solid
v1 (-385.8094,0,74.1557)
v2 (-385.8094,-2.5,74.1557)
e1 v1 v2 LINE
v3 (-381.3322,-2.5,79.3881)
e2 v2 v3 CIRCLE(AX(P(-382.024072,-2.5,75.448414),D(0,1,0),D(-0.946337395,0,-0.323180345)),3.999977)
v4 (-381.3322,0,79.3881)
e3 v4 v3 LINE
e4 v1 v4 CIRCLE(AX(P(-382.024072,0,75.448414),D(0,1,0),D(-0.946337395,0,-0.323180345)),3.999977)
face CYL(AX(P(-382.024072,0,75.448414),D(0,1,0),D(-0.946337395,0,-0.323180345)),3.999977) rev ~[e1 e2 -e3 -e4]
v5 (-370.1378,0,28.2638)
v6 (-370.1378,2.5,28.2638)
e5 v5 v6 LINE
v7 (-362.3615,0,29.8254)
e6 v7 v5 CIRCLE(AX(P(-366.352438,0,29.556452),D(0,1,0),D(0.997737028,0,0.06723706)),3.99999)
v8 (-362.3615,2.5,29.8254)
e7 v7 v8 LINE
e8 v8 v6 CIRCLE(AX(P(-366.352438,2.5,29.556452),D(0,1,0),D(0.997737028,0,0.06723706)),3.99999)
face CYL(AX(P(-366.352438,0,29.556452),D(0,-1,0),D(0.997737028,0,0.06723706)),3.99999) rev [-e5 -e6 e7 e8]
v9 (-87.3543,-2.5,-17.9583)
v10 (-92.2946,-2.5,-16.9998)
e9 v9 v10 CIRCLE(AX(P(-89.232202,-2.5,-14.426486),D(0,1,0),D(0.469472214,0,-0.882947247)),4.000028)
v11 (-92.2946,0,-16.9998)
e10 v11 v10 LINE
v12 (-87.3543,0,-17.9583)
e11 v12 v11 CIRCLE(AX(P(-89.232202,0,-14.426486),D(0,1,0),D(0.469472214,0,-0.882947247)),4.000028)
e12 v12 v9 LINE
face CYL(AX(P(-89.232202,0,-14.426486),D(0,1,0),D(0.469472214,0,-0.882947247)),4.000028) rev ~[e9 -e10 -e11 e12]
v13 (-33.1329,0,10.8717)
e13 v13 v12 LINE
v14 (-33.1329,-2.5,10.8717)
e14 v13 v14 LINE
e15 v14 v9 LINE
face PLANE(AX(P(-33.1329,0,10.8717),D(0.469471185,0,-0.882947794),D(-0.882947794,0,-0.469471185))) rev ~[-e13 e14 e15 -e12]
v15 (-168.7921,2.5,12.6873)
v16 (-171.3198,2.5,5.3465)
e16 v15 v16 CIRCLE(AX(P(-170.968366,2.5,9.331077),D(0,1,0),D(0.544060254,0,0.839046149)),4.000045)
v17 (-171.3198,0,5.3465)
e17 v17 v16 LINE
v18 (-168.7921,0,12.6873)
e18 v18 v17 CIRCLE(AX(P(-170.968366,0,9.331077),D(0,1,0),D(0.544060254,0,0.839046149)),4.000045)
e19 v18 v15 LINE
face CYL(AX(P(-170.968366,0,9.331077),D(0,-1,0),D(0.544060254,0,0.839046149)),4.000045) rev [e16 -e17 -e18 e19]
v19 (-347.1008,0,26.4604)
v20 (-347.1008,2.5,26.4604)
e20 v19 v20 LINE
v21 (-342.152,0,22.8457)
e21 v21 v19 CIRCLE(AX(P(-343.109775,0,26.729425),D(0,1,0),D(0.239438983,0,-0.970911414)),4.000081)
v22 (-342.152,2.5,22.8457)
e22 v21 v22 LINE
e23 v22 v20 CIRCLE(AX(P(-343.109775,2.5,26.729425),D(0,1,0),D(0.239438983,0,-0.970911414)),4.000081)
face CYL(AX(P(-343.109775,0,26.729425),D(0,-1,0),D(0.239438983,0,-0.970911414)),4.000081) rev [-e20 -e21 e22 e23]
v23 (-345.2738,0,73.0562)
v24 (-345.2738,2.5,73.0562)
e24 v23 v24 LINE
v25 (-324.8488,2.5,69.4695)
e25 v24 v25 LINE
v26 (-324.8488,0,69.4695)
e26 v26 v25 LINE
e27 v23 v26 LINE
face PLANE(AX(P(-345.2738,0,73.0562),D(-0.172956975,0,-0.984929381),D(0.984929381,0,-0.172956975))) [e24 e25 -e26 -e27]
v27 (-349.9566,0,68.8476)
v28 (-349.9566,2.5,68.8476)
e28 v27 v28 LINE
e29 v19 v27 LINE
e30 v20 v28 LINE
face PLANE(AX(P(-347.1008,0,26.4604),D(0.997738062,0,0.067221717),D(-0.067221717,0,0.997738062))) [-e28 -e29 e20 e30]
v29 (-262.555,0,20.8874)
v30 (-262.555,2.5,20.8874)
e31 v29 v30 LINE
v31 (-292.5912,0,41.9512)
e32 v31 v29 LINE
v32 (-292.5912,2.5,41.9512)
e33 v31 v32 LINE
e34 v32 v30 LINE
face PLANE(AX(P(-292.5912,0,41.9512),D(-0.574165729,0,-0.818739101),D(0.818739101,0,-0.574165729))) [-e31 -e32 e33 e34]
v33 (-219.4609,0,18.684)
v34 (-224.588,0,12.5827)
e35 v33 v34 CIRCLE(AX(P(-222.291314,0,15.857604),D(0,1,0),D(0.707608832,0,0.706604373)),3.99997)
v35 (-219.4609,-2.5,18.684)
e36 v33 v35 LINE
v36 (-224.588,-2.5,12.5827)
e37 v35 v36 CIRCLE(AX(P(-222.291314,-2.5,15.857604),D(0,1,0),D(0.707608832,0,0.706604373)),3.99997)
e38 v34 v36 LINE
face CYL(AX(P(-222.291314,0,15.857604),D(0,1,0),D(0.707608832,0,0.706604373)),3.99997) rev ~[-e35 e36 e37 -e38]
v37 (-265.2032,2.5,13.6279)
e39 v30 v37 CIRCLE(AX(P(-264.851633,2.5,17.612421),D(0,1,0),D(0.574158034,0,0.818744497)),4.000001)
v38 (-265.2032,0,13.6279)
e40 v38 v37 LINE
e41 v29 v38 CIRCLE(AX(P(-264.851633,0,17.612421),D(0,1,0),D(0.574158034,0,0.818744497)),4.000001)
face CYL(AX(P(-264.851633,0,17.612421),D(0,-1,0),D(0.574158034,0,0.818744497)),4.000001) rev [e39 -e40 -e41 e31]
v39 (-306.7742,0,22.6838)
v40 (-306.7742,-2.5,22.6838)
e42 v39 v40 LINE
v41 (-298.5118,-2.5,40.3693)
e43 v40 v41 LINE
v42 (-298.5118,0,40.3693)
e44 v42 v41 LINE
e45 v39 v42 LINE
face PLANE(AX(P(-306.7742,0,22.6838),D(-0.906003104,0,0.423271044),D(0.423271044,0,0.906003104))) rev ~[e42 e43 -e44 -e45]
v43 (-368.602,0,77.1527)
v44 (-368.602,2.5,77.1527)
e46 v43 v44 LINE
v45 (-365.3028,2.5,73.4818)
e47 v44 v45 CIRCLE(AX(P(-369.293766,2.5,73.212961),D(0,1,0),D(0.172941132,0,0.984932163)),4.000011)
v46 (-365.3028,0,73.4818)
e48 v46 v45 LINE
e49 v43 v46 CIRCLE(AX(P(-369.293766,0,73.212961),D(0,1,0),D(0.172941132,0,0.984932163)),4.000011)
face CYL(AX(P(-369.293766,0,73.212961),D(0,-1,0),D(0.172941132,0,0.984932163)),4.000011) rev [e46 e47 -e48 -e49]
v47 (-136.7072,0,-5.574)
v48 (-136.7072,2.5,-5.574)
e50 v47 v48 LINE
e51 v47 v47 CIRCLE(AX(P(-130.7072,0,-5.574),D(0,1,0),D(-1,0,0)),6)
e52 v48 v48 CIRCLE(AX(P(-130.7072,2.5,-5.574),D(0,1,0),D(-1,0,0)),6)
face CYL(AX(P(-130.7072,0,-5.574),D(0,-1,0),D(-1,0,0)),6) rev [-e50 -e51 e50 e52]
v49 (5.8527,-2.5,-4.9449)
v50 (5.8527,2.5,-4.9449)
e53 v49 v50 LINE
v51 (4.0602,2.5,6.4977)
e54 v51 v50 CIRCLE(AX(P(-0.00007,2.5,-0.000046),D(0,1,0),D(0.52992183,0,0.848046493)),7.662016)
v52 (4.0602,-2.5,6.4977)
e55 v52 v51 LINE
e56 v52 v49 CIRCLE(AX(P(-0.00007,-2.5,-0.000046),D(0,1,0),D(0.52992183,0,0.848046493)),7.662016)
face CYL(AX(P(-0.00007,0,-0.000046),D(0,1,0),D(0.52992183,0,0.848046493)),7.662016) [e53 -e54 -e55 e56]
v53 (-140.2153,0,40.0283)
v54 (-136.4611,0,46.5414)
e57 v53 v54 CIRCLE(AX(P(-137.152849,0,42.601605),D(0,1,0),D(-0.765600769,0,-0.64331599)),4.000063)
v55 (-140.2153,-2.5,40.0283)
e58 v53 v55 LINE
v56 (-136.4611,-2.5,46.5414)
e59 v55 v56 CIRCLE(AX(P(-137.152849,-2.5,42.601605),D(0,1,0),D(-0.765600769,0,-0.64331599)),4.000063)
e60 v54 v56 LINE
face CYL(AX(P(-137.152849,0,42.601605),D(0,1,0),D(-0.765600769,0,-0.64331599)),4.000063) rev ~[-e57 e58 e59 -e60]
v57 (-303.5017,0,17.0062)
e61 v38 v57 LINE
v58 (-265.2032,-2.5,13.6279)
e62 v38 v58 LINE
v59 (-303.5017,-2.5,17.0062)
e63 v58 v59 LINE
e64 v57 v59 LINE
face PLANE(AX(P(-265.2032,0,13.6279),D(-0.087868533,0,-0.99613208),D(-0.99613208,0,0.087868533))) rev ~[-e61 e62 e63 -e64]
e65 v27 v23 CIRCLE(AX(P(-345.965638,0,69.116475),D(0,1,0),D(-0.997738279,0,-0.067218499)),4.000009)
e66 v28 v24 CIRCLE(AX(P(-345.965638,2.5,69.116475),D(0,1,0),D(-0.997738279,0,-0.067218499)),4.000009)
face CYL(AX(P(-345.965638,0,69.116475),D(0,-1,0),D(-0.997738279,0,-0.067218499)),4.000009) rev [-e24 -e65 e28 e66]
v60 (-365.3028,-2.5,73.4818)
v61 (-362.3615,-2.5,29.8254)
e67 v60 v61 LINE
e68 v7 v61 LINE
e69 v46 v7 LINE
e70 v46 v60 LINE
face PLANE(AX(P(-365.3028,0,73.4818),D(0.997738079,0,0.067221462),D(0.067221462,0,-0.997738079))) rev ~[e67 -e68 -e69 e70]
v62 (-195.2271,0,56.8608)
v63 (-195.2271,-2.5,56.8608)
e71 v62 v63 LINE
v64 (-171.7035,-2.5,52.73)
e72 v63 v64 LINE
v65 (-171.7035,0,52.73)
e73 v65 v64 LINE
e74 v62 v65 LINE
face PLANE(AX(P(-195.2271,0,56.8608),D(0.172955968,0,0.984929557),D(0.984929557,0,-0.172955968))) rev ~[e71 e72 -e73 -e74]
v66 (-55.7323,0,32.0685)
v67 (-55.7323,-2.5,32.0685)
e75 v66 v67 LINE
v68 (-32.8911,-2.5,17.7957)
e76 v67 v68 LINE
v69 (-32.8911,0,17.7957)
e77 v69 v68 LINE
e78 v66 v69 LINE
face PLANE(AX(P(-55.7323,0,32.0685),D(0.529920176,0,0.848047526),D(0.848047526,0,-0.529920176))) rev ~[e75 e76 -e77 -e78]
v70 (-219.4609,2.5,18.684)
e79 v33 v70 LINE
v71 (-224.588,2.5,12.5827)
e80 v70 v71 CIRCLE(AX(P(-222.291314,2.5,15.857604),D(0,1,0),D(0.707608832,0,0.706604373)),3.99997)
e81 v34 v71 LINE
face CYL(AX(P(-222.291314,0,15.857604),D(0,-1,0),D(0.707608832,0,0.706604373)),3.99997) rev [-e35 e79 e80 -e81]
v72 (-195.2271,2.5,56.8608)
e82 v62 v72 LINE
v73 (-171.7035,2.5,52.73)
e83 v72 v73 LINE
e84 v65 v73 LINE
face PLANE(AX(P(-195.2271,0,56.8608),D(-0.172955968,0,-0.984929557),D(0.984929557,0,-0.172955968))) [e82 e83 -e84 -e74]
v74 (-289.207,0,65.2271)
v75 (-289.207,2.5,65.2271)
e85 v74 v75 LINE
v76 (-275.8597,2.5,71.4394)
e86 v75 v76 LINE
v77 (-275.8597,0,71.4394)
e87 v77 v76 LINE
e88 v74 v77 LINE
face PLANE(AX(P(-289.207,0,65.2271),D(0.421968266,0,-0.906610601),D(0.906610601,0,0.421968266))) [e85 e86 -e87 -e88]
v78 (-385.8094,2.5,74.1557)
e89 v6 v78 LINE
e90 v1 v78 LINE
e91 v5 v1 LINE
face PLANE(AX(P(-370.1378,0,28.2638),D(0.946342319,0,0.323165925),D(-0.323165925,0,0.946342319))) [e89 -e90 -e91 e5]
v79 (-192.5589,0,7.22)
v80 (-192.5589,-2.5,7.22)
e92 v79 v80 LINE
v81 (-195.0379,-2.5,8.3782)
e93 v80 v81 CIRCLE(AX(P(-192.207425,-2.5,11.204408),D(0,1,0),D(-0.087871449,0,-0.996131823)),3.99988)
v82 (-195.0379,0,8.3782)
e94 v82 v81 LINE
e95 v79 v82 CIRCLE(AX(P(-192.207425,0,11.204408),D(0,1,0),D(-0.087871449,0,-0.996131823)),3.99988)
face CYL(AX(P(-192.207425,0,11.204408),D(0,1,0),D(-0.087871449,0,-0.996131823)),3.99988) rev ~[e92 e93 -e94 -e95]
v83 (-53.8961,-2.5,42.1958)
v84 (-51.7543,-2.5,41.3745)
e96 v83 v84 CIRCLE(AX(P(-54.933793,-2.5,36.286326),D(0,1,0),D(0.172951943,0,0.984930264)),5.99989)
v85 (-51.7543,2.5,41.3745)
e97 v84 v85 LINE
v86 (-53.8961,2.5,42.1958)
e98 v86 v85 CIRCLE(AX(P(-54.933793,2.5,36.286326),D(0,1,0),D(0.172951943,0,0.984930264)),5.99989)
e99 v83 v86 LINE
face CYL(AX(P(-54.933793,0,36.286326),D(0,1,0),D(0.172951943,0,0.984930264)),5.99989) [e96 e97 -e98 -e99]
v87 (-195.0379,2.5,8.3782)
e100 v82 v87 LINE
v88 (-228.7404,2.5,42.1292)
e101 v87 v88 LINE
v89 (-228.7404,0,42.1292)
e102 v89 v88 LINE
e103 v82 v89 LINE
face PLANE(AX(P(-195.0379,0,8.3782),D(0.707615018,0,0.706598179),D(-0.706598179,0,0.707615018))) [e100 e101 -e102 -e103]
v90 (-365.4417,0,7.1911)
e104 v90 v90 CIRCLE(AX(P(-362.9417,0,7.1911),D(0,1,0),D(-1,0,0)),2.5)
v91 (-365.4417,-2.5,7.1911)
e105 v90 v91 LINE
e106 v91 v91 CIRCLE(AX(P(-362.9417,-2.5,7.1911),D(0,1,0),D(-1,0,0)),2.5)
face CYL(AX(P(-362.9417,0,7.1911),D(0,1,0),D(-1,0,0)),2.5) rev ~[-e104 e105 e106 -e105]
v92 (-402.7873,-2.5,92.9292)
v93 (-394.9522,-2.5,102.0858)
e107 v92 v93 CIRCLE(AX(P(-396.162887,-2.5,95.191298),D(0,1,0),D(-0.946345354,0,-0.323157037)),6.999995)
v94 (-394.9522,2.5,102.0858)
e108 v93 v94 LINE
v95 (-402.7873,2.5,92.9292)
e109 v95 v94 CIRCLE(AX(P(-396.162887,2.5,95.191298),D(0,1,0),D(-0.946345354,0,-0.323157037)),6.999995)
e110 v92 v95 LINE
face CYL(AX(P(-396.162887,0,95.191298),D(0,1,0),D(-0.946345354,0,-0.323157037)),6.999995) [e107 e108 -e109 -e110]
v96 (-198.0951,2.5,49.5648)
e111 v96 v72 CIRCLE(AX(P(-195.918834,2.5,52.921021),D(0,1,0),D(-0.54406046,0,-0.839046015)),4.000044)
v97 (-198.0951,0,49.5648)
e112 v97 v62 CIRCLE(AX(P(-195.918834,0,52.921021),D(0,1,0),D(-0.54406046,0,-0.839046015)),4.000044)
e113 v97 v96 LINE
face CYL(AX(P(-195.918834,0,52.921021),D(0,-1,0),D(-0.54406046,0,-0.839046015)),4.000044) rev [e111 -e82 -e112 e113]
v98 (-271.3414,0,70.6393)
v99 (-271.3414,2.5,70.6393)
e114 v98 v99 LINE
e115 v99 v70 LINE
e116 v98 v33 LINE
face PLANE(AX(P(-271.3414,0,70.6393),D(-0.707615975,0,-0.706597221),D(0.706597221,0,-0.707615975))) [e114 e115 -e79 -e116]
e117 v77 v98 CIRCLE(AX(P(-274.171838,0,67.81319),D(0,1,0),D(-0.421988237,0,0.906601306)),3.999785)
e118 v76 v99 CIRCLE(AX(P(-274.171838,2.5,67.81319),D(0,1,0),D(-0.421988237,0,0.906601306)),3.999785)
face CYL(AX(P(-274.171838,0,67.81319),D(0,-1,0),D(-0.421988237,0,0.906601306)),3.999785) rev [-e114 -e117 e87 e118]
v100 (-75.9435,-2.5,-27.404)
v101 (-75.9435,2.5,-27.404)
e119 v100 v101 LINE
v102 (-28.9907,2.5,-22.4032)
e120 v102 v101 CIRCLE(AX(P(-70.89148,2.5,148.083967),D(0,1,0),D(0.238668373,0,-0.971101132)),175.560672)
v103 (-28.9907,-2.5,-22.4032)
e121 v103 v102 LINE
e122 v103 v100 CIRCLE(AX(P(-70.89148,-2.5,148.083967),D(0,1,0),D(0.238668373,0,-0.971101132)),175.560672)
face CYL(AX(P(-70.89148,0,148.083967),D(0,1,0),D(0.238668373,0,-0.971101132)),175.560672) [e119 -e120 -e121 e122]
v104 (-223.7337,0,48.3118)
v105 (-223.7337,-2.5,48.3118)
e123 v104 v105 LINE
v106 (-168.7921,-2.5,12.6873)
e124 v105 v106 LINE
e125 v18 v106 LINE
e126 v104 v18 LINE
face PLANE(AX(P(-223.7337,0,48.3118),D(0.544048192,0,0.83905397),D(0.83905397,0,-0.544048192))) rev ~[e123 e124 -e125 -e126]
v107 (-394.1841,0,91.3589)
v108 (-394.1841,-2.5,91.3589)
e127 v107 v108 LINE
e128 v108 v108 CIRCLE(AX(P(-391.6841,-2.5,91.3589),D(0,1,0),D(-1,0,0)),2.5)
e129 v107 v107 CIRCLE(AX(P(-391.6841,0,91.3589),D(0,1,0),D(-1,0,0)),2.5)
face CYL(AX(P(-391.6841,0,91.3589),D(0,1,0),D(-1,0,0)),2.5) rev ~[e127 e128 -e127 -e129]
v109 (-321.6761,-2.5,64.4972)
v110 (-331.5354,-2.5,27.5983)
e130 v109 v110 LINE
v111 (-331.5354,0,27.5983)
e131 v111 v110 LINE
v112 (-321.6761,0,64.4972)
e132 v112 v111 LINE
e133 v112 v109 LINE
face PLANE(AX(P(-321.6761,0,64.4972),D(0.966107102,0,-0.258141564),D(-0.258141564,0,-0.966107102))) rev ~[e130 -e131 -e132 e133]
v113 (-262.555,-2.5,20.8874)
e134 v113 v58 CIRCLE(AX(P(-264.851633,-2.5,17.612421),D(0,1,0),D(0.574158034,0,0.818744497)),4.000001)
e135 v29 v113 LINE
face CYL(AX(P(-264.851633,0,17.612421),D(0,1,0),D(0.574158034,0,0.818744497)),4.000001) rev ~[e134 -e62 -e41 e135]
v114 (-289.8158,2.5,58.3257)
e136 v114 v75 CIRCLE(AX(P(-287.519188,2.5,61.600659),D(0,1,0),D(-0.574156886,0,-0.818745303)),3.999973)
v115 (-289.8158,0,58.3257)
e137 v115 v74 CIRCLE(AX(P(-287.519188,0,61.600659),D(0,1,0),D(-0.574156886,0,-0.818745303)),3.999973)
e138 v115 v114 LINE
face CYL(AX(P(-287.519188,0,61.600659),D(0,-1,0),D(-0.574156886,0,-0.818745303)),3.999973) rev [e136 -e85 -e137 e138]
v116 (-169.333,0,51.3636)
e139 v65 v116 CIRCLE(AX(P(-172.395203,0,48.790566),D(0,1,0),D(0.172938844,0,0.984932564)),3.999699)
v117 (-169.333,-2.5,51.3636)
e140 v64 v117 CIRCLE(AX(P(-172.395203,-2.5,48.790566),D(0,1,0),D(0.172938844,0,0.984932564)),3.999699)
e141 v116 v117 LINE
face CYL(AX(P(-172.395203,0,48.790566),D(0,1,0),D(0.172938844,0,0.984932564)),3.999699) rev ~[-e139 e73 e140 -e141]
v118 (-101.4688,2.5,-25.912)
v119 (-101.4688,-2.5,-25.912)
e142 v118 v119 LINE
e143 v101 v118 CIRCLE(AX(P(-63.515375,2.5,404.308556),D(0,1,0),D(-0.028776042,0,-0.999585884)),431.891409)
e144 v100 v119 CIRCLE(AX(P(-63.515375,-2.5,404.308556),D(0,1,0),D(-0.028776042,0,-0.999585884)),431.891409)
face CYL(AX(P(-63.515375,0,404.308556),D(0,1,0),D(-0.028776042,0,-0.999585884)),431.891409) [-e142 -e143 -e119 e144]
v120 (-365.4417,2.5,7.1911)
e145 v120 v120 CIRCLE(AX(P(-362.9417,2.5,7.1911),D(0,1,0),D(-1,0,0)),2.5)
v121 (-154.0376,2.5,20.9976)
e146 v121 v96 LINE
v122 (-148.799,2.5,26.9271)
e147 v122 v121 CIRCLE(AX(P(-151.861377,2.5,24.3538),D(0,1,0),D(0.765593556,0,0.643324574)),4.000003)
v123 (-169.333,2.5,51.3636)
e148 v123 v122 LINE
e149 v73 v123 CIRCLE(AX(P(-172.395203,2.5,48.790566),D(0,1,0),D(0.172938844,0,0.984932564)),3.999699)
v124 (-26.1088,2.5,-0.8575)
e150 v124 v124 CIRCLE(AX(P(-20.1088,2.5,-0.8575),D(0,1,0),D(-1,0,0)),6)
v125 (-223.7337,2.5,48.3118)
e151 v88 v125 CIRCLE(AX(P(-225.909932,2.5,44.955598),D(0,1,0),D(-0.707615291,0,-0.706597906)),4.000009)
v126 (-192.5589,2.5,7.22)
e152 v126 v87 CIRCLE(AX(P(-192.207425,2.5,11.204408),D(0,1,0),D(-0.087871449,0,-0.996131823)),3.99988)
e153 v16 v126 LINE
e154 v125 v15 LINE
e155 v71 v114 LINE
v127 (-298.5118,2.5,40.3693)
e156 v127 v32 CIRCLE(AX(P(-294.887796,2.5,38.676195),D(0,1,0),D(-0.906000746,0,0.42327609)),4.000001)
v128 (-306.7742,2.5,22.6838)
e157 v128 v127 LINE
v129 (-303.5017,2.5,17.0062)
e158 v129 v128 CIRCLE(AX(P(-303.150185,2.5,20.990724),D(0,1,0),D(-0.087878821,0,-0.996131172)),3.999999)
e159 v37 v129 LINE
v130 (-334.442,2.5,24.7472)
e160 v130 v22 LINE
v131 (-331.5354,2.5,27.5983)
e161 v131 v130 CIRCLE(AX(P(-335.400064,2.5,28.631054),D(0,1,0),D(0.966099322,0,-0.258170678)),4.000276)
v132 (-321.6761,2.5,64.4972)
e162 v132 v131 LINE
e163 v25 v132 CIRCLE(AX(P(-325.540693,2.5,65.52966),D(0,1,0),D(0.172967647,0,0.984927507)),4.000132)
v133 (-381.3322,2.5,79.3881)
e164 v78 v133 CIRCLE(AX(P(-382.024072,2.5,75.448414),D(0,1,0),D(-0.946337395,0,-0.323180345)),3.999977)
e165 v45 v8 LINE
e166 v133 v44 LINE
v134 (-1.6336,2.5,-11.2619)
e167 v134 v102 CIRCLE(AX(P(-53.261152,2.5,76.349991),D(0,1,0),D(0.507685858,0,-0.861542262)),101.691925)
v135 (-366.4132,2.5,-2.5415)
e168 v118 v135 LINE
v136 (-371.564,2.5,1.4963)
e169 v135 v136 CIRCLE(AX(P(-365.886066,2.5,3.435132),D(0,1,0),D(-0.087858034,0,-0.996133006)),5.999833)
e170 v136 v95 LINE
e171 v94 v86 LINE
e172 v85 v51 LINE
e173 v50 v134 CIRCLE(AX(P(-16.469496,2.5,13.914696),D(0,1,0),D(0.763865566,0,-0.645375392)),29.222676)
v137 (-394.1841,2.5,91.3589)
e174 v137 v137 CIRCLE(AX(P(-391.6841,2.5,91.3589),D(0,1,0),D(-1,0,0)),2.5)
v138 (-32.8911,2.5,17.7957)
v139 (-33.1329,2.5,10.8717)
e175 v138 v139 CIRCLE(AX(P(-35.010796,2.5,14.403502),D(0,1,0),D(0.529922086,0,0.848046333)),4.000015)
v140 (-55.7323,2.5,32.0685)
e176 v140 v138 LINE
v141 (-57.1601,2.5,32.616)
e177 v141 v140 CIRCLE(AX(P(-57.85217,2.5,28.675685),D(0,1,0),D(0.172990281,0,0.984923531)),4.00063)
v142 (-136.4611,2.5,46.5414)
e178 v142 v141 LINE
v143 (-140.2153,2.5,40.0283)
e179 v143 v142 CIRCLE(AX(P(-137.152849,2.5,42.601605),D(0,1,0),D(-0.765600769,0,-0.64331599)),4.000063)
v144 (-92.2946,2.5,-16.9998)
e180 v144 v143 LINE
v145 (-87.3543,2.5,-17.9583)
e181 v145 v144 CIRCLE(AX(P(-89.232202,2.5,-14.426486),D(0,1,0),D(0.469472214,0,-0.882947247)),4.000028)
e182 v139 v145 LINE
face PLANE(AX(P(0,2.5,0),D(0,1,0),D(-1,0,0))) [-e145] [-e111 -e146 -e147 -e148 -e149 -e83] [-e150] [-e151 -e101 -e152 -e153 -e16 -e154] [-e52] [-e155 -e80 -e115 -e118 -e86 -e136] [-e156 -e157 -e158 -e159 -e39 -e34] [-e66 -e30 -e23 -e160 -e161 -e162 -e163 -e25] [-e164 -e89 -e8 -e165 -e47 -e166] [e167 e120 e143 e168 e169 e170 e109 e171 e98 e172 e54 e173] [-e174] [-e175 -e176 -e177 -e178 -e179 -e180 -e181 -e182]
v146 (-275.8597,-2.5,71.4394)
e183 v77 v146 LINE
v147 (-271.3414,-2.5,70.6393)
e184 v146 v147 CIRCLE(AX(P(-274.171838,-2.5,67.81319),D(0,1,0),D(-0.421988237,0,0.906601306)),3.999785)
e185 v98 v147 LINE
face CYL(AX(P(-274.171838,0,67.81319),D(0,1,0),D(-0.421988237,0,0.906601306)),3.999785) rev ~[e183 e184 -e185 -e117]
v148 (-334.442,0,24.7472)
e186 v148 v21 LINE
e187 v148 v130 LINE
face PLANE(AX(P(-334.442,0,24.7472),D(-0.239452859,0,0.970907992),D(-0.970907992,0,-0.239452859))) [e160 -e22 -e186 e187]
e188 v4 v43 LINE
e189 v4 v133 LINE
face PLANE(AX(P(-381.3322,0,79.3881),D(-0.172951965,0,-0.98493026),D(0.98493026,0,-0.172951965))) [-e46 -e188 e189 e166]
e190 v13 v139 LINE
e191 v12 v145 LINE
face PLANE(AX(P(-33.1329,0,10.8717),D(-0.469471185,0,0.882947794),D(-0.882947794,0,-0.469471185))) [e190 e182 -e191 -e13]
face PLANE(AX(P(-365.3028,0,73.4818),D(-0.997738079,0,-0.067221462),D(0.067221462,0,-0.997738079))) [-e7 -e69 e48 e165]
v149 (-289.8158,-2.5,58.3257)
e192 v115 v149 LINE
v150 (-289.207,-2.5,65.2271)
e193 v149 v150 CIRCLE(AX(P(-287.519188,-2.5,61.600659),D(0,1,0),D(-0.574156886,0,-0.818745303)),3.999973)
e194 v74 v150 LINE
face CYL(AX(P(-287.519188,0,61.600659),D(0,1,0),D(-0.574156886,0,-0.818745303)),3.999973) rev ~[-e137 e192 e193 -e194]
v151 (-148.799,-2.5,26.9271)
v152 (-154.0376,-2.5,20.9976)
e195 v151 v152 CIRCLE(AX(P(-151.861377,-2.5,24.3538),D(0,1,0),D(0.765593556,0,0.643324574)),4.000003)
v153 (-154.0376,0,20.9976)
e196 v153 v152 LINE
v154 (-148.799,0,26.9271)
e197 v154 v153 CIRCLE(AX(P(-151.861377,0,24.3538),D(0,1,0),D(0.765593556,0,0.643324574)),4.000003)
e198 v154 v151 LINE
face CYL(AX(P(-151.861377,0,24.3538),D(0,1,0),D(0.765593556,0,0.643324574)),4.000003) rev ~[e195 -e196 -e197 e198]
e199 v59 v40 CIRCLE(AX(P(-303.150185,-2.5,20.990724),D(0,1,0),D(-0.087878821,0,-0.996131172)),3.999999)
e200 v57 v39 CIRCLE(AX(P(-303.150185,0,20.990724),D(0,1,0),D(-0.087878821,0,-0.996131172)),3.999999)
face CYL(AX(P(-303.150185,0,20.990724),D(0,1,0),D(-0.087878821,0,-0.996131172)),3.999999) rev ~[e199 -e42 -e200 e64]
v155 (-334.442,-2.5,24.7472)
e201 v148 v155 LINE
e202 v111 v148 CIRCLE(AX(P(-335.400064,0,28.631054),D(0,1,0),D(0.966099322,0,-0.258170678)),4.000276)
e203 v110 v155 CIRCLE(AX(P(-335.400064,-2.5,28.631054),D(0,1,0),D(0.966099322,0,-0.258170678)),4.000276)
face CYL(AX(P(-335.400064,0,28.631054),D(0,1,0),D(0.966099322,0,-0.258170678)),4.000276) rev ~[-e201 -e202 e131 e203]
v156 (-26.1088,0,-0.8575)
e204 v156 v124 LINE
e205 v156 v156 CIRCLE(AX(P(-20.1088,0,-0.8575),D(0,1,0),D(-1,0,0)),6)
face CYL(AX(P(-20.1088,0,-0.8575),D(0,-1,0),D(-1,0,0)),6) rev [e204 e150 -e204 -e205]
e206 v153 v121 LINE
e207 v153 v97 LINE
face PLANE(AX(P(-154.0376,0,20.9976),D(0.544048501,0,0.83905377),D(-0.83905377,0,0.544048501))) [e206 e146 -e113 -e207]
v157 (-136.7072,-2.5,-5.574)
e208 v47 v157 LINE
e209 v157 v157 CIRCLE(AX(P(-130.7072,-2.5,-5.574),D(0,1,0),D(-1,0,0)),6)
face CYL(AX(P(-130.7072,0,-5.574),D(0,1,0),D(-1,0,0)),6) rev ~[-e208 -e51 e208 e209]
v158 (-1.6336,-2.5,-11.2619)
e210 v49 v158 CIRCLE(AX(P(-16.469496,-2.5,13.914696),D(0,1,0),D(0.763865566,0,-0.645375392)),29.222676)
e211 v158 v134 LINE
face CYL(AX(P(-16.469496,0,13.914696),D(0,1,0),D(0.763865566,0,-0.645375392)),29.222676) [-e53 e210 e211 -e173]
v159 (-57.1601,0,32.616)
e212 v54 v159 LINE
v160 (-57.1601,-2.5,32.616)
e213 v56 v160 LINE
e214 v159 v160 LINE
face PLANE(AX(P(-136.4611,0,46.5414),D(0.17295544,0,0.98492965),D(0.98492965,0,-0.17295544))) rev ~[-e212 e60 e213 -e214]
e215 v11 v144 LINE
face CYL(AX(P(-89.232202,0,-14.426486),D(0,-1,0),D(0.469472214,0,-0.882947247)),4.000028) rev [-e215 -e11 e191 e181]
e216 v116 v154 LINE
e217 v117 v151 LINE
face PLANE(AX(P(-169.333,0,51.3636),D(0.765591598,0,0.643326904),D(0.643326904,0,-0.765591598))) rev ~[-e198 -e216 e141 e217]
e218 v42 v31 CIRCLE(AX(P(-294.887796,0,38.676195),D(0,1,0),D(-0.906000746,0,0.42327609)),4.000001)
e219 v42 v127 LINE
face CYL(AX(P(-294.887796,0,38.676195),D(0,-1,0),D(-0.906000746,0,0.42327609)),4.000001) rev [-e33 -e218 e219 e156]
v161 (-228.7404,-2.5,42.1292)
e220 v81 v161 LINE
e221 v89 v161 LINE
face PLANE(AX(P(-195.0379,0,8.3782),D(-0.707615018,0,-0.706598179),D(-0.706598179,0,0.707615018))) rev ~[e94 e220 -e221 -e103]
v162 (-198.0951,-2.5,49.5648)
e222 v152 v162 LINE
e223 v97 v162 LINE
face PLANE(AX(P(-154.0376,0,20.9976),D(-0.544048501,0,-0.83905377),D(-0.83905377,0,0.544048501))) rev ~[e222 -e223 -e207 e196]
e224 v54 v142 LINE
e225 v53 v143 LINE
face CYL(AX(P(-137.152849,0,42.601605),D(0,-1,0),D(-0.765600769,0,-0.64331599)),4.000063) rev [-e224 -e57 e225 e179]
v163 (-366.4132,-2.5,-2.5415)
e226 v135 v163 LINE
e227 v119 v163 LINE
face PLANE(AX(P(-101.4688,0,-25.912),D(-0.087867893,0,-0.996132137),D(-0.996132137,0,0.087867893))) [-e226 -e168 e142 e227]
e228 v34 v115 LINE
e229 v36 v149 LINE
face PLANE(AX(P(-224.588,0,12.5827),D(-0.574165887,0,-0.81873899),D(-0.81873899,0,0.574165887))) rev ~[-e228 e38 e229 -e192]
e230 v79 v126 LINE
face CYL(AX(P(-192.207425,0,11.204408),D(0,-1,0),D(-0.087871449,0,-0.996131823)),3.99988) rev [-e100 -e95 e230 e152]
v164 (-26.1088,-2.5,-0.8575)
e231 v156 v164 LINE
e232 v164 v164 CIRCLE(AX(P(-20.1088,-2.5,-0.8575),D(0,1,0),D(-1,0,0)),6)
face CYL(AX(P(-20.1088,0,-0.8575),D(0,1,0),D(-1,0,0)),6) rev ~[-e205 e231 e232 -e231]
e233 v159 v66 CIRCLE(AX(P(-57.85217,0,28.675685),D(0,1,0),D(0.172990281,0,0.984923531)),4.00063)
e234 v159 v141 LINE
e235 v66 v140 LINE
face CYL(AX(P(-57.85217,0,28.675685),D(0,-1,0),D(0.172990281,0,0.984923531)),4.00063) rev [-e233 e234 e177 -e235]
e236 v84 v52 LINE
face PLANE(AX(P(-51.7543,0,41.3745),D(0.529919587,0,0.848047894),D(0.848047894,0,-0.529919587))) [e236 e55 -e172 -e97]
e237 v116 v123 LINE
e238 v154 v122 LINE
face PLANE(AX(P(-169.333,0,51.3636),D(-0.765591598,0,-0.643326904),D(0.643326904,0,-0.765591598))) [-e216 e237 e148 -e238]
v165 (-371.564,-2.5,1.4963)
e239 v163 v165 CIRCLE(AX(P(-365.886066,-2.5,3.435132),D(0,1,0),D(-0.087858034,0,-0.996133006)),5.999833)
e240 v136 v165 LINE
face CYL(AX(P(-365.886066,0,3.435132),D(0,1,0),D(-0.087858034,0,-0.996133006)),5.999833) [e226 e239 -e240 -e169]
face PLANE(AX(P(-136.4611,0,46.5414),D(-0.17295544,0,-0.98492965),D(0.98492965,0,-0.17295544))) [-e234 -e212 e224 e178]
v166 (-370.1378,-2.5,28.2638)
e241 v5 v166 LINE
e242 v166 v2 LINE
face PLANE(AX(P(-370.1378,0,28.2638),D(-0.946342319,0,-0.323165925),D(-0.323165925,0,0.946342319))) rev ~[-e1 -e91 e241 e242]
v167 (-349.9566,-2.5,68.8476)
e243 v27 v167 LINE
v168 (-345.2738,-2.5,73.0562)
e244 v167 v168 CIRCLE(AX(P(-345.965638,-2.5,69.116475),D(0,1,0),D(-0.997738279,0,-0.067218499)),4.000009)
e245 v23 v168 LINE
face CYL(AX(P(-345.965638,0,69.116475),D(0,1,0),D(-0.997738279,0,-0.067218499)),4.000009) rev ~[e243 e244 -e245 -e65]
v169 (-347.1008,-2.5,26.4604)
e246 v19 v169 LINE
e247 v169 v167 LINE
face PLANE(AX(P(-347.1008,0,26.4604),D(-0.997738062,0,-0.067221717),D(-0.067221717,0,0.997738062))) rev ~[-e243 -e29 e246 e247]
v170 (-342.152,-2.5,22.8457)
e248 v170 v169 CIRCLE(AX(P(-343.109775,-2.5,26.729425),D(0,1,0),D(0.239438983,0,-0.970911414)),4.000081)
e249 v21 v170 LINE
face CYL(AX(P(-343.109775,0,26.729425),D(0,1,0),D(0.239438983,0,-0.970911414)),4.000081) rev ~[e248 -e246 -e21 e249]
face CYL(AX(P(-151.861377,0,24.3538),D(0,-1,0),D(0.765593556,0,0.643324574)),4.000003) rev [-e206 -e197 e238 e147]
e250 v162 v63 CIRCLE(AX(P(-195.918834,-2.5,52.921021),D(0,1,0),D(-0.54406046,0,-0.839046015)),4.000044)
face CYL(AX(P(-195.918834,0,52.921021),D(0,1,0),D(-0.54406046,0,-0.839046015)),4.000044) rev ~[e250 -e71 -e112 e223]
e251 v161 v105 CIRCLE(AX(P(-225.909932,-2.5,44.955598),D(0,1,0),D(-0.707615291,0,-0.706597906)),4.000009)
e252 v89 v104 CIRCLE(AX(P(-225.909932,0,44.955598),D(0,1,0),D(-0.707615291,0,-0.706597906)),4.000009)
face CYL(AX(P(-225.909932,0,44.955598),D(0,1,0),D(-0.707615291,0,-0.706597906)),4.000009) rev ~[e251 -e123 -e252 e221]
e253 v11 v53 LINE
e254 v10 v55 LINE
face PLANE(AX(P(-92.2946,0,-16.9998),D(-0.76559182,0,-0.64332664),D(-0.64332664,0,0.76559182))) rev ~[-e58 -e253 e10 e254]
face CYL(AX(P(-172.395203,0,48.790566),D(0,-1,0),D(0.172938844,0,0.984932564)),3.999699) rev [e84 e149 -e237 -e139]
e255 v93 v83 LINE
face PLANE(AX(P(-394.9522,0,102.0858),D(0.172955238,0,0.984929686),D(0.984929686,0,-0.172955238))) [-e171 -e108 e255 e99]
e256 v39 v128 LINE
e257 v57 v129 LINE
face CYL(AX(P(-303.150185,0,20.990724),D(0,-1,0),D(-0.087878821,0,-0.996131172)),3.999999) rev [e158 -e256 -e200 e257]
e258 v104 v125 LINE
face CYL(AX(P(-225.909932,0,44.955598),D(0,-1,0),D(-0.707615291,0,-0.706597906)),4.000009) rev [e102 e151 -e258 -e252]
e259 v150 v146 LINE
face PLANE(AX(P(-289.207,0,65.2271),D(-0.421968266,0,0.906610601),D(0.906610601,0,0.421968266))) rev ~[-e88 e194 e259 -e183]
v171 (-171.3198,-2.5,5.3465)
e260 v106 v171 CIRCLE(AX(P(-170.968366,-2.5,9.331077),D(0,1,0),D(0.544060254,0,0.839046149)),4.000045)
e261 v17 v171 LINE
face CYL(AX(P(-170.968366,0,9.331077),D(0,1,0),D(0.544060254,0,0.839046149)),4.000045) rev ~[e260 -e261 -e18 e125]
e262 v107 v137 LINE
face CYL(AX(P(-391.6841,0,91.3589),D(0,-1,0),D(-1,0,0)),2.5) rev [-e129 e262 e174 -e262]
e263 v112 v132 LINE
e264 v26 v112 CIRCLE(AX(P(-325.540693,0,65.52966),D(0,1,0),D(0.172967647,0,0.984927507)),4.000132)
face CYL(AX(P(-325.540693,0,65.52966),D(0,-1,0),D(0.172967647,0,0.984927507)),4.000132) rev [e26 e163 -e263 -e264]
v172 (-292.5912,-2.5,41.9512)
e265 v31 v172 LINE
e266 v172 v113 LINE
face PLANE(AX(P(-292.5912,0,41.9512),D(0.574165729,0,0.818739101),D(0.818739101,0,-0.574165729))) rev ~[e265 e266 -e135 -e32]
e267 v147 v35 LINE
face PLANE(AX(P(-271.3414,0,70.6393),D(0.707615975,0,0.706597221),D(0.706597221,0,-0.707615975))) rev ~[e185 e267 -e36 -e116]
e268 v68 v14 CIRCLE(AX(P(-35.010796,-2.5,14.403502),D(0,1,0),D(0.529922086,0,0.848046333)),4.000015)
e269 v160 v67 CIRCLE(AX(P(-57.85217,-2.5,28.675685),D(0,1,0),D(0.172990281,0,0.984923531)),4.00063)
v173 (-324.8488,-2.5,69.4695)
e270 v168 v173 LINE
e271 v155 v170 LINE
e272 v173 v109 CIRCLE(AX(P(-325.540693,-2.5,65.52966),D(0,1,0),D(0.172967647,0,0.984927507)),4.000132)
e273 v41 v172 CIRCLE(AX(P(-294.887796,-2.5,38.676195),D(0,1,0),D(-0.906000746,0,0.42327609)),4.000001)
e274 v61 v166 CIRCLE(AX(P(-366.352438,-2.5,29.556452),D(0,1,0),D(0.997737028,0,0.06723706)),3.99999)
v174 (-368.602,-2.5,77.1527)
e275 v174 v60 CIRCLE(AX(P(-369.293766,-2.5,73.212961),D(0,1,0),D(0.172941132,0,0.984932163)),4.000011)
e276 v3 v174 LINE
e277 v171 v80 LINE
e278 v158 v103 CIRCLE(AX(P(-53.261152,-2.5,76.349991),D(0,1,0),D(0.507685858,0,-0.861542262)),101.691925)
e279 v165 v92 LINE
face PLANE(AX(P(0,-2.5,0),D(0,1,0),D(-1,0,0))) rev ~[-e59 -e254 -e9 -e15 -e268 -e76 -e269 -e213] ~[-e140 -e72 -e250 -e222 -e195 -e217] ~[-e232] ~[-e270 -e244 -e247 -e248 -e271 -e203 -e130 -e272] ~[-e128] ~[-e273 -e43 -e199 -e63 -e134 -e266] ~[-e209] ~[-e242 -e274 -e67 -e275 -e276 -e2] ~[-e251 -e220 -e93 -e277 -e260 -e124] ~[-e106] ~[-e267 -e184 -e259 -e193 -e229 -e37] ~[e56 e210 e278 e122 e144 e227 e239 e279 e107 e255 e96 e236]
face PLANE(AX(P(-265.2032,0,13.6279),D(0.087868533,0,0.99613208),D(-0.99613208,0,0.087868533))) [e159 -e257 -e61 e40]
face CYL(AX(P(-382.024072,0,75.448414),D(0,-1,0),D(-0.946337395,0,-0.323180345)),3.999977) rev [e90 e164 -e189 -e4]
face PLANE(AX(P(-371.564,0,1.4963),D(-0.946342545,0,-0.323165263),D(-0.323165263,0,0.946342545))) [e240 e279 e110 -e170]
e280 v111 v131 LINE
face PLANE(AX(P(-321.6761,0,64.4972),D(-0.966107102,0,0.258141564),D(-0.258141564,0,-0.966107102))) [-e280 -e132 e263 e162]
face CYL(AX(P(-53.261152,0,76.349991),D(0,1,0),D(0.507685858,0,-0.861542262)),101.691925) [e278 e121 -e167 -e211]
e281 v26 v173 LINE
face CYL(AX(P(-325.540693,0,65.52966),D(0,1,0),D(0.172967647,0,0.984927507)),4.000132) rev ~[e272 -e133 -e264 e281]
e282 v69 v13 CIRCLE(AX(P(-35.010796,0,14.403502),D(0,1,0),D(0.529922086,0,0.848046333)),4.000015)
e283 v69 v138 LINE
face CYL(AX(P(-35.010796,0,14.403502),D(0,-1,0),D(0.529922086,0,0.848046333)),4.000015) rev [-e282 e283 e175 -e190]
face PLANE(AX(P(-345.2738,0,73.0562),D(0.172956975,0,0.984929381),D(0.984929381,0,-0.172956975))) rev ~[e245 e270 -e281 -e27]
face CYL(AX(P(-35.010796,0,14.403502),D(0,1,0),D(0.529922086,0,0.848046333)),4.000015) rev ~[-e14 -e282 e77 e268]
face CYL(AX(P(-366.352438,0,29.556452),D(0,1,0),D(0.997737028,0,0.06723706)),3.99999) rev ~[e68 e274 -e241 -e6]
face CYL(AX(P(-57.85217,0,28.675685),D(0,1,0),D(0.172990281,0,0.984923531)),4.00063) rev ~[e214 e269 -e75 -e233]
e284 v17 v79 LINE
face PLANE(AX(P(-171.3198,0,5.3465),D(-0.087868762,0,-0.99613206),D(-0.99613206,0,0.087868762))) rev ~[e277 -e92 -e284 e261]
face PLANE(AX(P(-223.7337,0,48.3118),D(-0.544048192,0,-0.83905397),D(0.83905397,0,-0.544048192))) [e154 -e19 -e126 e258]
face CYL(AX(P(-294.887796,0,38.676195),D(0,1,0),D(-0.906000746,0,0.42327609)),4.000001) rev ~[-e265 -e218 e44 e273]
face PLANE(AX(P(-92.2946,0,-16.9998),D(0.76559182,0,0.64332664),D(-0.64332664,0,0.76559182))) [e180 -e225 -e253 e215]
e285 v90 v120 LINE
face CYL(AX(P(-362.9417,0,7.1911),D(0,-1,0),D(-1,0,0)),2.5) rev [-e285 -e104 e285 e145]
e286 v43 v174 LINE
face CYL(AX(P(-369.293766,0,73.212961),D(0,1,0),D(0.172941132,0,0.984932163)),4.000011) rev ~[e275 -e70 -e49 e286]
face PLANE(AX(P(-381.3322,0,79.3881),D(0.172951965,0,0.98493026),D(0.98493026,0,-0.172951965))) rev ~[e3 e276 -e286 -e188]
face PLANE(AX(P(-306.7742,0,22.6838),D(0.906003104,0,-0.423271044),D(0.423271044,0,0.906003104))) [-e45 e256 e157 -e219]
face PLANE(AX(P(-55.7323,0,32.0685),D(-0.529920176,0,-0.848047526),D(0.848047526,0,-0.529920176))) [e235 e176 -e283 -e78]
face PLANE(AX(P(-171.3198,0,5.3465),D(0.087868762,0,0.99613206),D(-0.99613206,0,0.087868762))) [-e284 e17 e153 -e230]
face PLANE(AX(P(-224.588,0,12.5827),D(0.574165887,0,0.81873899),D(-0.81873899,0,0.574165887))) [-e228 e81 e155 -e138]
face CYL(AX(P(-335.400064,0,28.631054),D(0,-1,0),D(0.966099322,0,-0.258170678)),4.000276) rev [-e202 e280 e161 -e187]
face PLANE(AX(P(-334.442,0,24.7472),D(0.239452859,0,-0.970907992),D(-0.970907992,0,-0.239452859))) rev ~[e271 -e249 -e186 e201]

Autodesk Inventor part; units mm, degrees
ref_plane "YZ Plane" through (0, 0, 0) normal (1, 0, 0) x (0, 1, 0)
ref_plane "XZ Plane" through (0, 0, 0) normal (0, 1, 0) x (-1, 0, 0)
ref_plane "XY Plane" through (0, 0, 0) normal (0, 0, 1) x (1, 0, 0)
sketch "スケッチ1" plane through (0, 0, 0) normal (0, 1, 0) x (-1, 0, 0)
  arc A0 (219.4609, 18.684) -> (224.588, 12.5827) centre (222.2914, 15.8576) ccw projected
  line L0 (224.588, 12.5827) -> (289.8158, 58.3257) projected
  arc A1 (289.8158, 58.3257) -> (289.207, 65.2271) centre (287.5191, 61.6007) ccw projected
  line L1 (289.207, 65.2271) -> (275.8597, 71.4394) projected
  arc A2 (275.8597, 71.4394) -> (271.3414, 70.6393) centre (274.1718, 67.8129) ccw projected
  line L2 (271.3414, 70.6393) -> (219.4609, 18.684) projected
  arc A3 (192.5589, 7.22) -> (195.0379, 8.3782) centre (192.2074, 11.2045) ccw projected
  line L3 (195.0379, 8.3782) -> (228.7404, 42.1292) projected
  arc A4 (228.7404, 42.1292) -> (223.7337, 48.3118) centre (225.9099, 44.9556) ccw projected
  line L4 (223.7337, 48.3118) -> (168.7921, 12.6873) projected
  arc A5 (168.7921, 12.6873) -> (171.3198, 5.3465) centre (170.9683, 9.3311) ccw projected
  line L5 (171.3198, 5.3465) -> (192.5589, 7.22) projected
  arc A6 (303.5017, 17.0062) -> (306.7742, 22.6838) centre (303.1502, 20.9907) ccw projected
  line L6 (306.7742, 22.6838) -> (298.5118, 40.3693) projected
  arc A7 (298.5118, 40.3693) -> (292.5912, 41.9512) centre (294.8878, 38.6762) ccw projected
  line L7 (292.5912, 41.9512) -> (262.555, 20.8874) projected
  arc A8 (262.555, 20.8874) -> (265.2032, 13.6279) centre (264.8517, 17.6124) ccw projected
  line L8 (265.2032, 13.6279) -> (303.5017, 17.0062) projected
  arc A9 (368.602, 77.1527) -> (365.3028, 73.4818) centre (369.2938, 73.2129) ccw projected
  line L9 (365.3028, 73.4818) -> (362.3615, 29.8254) projected
  arc A10 (362.3615, 29.8254) -> (370.1378, 28.2638) centre (366.3525, 29.5565) ccw projected
  line L10 (370.1378, 28.2638) -> (385.8094, 74.1557) projected
  arc A11 (385.8094, 74.1557) -> (381.3322, 79.3881) centre (382.024, 75.4484) ccw projected
  line L11 (381.3322, 79.3881) -> (368.602, 77.1527) projected
  arc A12 (148.799, 26.9271) -> (154.0376, 20.9976) centre (151.8614, 24.3538) ccw projected
  line L12 (154.0376, 20.9976) -> (198.0951, 49.5648) projected
  arc A13 (198.0951, 49.5648) -> (195.2271, 56.8608) centre (195.9189, 52.921) ccw projected
  line L13 (195.2271, 56.8608) -> (171.7035, 52.73) projected
  arc A14 (171.7035, 52.73) -> (169.333, 51.3636) centre (172.3953, 48.7903) ccw projected
  line L14 (169.333, 51.3636) -> (148.799, 26.9271) projected
  arc A15 (342.152, 22.8457) -> (347.1008, 26.4604) centre (343.1098, 26.7293) ccw projected
  line L15 (347.1008, 26.4604) -> (349.9566, 68.8476) projected
  arc A16 (349.9566, 68.8476) -> (345.2738, 73.0562) centre (345.9657, 69.1165) ccw projected
  line L16 (345.2738, 73.0562) -> (324.8488, 69.4695) projected
  arc A17 (324.8488, 69.4695) -> (321.6761, 64.4972) centre (325.5406, 65.5298) ccw projected
  line L17 (321.6761, 64.4972) -> (331.5354, 27.5983) projected
  arc A18 (331.5354, 27.5983) -> (334.442, 24.7472) centre (335.3998, 28.6309) ccw projected
  line L18 (334.442, 24.7472) -> (342.152, 22.8457) projected
  arc A19 (87.3543, -17.9583) -> (92.2946, -16.9998) centre (89.2322, -14.4265) ccw projected
  line L19 (92.2946, -16.9998) -> (140.2153, 40.0283) projected
  arc A20 (140.2153, 40.0283) -> (136.4611, 46.5414) centre (137.1529, 42.6016) ccw projected
  line L20 (136.4611, 46.5414) -> (57.1601, 32.616) projected
  arc A21 (57.1601, 32.616) -> (55.7323, 32.0685) centre (57.852, 28.6763) ccw projected
  line L21 (55.7323, 32.0685) -> (32.8911, 17.7957) projected
  arc A22 (32.8911, 17.7957) -> (33.1329, 10.8717) centre (35.0108, 14.4035) ccw projected
  line L22 (33.1329, 10.8717) -> (87.3543, -17.9583) projected
  circle A23 centre (362.9417, 7.1911) radius 2.5 projected
  circle A24 centre (391.6841, 91.3589) radius 2.5 projected
  circle A25 centre (20.1088, -0.8575) radius 6 projected
  circle A26 centre (130.7072, -5.574) radius 6 projected
  arc A27 (402.7873, 92.9292) -> (394.9522, 102.0858) centre (396.1629, 95.1913) ccw projected
  line L23 (371.564, 1.4963) -> (402.7873, 92.9292) projected
  arc A28 (366.4132, -2.5415) -> (371.564, 1.4963) centre (365.886, 3.4353) ccw projected
  line L24 (101.4688, -25.912) -> (366.4132, -2.5415) projected
  arc A29 (75.9435, -27.404) -> (101.4688, -25.912) centre (63.5115, 404.3974) ccw projected
  arc A30 (28.9907, -22.4032) -> (75.9435, -27.404) centre (70.8911, 148.0818) ccw projected
  arc A31 (1.6336, -11.2619) -> (28.9907, -22.4032) centre (53.2618, 76.3513) ccw projected
  arc A32 (-5.8527, -4.9449) -> (1.6336, -11.2619) centre (16.4695, 13.9147) ccw projected
  arc A33 (-4.0602, 6.4977) -> (-5.8527, -4.9449) centre (0, 0) ccw projected
  line L25 (51.7543, 41.3745) -> (-4.0602, 6.4977) projected
  arc A34 (53.8961, 42.1958) -> (51.7543, 41.3745) centre (54.9338, 36.2863) ccw projected
  line L26 (394.9522, 102.0858) -> (53.8961, 42.1958) projected
  circle A35 centre (285.7217, 47.1567) radius 3 projected
  circle A36 centre (357.6123, 68.7377) radius 3 projected
  point P0 (0, 0)
extrude "押し出し1" add sketch "スケッチ1" along normal mid plane 5 contours L23 A28 L24 A29 A30 A31 A32 A33 L25 A34 L26 A27 | A35 | A36
properties part number "bracket"
